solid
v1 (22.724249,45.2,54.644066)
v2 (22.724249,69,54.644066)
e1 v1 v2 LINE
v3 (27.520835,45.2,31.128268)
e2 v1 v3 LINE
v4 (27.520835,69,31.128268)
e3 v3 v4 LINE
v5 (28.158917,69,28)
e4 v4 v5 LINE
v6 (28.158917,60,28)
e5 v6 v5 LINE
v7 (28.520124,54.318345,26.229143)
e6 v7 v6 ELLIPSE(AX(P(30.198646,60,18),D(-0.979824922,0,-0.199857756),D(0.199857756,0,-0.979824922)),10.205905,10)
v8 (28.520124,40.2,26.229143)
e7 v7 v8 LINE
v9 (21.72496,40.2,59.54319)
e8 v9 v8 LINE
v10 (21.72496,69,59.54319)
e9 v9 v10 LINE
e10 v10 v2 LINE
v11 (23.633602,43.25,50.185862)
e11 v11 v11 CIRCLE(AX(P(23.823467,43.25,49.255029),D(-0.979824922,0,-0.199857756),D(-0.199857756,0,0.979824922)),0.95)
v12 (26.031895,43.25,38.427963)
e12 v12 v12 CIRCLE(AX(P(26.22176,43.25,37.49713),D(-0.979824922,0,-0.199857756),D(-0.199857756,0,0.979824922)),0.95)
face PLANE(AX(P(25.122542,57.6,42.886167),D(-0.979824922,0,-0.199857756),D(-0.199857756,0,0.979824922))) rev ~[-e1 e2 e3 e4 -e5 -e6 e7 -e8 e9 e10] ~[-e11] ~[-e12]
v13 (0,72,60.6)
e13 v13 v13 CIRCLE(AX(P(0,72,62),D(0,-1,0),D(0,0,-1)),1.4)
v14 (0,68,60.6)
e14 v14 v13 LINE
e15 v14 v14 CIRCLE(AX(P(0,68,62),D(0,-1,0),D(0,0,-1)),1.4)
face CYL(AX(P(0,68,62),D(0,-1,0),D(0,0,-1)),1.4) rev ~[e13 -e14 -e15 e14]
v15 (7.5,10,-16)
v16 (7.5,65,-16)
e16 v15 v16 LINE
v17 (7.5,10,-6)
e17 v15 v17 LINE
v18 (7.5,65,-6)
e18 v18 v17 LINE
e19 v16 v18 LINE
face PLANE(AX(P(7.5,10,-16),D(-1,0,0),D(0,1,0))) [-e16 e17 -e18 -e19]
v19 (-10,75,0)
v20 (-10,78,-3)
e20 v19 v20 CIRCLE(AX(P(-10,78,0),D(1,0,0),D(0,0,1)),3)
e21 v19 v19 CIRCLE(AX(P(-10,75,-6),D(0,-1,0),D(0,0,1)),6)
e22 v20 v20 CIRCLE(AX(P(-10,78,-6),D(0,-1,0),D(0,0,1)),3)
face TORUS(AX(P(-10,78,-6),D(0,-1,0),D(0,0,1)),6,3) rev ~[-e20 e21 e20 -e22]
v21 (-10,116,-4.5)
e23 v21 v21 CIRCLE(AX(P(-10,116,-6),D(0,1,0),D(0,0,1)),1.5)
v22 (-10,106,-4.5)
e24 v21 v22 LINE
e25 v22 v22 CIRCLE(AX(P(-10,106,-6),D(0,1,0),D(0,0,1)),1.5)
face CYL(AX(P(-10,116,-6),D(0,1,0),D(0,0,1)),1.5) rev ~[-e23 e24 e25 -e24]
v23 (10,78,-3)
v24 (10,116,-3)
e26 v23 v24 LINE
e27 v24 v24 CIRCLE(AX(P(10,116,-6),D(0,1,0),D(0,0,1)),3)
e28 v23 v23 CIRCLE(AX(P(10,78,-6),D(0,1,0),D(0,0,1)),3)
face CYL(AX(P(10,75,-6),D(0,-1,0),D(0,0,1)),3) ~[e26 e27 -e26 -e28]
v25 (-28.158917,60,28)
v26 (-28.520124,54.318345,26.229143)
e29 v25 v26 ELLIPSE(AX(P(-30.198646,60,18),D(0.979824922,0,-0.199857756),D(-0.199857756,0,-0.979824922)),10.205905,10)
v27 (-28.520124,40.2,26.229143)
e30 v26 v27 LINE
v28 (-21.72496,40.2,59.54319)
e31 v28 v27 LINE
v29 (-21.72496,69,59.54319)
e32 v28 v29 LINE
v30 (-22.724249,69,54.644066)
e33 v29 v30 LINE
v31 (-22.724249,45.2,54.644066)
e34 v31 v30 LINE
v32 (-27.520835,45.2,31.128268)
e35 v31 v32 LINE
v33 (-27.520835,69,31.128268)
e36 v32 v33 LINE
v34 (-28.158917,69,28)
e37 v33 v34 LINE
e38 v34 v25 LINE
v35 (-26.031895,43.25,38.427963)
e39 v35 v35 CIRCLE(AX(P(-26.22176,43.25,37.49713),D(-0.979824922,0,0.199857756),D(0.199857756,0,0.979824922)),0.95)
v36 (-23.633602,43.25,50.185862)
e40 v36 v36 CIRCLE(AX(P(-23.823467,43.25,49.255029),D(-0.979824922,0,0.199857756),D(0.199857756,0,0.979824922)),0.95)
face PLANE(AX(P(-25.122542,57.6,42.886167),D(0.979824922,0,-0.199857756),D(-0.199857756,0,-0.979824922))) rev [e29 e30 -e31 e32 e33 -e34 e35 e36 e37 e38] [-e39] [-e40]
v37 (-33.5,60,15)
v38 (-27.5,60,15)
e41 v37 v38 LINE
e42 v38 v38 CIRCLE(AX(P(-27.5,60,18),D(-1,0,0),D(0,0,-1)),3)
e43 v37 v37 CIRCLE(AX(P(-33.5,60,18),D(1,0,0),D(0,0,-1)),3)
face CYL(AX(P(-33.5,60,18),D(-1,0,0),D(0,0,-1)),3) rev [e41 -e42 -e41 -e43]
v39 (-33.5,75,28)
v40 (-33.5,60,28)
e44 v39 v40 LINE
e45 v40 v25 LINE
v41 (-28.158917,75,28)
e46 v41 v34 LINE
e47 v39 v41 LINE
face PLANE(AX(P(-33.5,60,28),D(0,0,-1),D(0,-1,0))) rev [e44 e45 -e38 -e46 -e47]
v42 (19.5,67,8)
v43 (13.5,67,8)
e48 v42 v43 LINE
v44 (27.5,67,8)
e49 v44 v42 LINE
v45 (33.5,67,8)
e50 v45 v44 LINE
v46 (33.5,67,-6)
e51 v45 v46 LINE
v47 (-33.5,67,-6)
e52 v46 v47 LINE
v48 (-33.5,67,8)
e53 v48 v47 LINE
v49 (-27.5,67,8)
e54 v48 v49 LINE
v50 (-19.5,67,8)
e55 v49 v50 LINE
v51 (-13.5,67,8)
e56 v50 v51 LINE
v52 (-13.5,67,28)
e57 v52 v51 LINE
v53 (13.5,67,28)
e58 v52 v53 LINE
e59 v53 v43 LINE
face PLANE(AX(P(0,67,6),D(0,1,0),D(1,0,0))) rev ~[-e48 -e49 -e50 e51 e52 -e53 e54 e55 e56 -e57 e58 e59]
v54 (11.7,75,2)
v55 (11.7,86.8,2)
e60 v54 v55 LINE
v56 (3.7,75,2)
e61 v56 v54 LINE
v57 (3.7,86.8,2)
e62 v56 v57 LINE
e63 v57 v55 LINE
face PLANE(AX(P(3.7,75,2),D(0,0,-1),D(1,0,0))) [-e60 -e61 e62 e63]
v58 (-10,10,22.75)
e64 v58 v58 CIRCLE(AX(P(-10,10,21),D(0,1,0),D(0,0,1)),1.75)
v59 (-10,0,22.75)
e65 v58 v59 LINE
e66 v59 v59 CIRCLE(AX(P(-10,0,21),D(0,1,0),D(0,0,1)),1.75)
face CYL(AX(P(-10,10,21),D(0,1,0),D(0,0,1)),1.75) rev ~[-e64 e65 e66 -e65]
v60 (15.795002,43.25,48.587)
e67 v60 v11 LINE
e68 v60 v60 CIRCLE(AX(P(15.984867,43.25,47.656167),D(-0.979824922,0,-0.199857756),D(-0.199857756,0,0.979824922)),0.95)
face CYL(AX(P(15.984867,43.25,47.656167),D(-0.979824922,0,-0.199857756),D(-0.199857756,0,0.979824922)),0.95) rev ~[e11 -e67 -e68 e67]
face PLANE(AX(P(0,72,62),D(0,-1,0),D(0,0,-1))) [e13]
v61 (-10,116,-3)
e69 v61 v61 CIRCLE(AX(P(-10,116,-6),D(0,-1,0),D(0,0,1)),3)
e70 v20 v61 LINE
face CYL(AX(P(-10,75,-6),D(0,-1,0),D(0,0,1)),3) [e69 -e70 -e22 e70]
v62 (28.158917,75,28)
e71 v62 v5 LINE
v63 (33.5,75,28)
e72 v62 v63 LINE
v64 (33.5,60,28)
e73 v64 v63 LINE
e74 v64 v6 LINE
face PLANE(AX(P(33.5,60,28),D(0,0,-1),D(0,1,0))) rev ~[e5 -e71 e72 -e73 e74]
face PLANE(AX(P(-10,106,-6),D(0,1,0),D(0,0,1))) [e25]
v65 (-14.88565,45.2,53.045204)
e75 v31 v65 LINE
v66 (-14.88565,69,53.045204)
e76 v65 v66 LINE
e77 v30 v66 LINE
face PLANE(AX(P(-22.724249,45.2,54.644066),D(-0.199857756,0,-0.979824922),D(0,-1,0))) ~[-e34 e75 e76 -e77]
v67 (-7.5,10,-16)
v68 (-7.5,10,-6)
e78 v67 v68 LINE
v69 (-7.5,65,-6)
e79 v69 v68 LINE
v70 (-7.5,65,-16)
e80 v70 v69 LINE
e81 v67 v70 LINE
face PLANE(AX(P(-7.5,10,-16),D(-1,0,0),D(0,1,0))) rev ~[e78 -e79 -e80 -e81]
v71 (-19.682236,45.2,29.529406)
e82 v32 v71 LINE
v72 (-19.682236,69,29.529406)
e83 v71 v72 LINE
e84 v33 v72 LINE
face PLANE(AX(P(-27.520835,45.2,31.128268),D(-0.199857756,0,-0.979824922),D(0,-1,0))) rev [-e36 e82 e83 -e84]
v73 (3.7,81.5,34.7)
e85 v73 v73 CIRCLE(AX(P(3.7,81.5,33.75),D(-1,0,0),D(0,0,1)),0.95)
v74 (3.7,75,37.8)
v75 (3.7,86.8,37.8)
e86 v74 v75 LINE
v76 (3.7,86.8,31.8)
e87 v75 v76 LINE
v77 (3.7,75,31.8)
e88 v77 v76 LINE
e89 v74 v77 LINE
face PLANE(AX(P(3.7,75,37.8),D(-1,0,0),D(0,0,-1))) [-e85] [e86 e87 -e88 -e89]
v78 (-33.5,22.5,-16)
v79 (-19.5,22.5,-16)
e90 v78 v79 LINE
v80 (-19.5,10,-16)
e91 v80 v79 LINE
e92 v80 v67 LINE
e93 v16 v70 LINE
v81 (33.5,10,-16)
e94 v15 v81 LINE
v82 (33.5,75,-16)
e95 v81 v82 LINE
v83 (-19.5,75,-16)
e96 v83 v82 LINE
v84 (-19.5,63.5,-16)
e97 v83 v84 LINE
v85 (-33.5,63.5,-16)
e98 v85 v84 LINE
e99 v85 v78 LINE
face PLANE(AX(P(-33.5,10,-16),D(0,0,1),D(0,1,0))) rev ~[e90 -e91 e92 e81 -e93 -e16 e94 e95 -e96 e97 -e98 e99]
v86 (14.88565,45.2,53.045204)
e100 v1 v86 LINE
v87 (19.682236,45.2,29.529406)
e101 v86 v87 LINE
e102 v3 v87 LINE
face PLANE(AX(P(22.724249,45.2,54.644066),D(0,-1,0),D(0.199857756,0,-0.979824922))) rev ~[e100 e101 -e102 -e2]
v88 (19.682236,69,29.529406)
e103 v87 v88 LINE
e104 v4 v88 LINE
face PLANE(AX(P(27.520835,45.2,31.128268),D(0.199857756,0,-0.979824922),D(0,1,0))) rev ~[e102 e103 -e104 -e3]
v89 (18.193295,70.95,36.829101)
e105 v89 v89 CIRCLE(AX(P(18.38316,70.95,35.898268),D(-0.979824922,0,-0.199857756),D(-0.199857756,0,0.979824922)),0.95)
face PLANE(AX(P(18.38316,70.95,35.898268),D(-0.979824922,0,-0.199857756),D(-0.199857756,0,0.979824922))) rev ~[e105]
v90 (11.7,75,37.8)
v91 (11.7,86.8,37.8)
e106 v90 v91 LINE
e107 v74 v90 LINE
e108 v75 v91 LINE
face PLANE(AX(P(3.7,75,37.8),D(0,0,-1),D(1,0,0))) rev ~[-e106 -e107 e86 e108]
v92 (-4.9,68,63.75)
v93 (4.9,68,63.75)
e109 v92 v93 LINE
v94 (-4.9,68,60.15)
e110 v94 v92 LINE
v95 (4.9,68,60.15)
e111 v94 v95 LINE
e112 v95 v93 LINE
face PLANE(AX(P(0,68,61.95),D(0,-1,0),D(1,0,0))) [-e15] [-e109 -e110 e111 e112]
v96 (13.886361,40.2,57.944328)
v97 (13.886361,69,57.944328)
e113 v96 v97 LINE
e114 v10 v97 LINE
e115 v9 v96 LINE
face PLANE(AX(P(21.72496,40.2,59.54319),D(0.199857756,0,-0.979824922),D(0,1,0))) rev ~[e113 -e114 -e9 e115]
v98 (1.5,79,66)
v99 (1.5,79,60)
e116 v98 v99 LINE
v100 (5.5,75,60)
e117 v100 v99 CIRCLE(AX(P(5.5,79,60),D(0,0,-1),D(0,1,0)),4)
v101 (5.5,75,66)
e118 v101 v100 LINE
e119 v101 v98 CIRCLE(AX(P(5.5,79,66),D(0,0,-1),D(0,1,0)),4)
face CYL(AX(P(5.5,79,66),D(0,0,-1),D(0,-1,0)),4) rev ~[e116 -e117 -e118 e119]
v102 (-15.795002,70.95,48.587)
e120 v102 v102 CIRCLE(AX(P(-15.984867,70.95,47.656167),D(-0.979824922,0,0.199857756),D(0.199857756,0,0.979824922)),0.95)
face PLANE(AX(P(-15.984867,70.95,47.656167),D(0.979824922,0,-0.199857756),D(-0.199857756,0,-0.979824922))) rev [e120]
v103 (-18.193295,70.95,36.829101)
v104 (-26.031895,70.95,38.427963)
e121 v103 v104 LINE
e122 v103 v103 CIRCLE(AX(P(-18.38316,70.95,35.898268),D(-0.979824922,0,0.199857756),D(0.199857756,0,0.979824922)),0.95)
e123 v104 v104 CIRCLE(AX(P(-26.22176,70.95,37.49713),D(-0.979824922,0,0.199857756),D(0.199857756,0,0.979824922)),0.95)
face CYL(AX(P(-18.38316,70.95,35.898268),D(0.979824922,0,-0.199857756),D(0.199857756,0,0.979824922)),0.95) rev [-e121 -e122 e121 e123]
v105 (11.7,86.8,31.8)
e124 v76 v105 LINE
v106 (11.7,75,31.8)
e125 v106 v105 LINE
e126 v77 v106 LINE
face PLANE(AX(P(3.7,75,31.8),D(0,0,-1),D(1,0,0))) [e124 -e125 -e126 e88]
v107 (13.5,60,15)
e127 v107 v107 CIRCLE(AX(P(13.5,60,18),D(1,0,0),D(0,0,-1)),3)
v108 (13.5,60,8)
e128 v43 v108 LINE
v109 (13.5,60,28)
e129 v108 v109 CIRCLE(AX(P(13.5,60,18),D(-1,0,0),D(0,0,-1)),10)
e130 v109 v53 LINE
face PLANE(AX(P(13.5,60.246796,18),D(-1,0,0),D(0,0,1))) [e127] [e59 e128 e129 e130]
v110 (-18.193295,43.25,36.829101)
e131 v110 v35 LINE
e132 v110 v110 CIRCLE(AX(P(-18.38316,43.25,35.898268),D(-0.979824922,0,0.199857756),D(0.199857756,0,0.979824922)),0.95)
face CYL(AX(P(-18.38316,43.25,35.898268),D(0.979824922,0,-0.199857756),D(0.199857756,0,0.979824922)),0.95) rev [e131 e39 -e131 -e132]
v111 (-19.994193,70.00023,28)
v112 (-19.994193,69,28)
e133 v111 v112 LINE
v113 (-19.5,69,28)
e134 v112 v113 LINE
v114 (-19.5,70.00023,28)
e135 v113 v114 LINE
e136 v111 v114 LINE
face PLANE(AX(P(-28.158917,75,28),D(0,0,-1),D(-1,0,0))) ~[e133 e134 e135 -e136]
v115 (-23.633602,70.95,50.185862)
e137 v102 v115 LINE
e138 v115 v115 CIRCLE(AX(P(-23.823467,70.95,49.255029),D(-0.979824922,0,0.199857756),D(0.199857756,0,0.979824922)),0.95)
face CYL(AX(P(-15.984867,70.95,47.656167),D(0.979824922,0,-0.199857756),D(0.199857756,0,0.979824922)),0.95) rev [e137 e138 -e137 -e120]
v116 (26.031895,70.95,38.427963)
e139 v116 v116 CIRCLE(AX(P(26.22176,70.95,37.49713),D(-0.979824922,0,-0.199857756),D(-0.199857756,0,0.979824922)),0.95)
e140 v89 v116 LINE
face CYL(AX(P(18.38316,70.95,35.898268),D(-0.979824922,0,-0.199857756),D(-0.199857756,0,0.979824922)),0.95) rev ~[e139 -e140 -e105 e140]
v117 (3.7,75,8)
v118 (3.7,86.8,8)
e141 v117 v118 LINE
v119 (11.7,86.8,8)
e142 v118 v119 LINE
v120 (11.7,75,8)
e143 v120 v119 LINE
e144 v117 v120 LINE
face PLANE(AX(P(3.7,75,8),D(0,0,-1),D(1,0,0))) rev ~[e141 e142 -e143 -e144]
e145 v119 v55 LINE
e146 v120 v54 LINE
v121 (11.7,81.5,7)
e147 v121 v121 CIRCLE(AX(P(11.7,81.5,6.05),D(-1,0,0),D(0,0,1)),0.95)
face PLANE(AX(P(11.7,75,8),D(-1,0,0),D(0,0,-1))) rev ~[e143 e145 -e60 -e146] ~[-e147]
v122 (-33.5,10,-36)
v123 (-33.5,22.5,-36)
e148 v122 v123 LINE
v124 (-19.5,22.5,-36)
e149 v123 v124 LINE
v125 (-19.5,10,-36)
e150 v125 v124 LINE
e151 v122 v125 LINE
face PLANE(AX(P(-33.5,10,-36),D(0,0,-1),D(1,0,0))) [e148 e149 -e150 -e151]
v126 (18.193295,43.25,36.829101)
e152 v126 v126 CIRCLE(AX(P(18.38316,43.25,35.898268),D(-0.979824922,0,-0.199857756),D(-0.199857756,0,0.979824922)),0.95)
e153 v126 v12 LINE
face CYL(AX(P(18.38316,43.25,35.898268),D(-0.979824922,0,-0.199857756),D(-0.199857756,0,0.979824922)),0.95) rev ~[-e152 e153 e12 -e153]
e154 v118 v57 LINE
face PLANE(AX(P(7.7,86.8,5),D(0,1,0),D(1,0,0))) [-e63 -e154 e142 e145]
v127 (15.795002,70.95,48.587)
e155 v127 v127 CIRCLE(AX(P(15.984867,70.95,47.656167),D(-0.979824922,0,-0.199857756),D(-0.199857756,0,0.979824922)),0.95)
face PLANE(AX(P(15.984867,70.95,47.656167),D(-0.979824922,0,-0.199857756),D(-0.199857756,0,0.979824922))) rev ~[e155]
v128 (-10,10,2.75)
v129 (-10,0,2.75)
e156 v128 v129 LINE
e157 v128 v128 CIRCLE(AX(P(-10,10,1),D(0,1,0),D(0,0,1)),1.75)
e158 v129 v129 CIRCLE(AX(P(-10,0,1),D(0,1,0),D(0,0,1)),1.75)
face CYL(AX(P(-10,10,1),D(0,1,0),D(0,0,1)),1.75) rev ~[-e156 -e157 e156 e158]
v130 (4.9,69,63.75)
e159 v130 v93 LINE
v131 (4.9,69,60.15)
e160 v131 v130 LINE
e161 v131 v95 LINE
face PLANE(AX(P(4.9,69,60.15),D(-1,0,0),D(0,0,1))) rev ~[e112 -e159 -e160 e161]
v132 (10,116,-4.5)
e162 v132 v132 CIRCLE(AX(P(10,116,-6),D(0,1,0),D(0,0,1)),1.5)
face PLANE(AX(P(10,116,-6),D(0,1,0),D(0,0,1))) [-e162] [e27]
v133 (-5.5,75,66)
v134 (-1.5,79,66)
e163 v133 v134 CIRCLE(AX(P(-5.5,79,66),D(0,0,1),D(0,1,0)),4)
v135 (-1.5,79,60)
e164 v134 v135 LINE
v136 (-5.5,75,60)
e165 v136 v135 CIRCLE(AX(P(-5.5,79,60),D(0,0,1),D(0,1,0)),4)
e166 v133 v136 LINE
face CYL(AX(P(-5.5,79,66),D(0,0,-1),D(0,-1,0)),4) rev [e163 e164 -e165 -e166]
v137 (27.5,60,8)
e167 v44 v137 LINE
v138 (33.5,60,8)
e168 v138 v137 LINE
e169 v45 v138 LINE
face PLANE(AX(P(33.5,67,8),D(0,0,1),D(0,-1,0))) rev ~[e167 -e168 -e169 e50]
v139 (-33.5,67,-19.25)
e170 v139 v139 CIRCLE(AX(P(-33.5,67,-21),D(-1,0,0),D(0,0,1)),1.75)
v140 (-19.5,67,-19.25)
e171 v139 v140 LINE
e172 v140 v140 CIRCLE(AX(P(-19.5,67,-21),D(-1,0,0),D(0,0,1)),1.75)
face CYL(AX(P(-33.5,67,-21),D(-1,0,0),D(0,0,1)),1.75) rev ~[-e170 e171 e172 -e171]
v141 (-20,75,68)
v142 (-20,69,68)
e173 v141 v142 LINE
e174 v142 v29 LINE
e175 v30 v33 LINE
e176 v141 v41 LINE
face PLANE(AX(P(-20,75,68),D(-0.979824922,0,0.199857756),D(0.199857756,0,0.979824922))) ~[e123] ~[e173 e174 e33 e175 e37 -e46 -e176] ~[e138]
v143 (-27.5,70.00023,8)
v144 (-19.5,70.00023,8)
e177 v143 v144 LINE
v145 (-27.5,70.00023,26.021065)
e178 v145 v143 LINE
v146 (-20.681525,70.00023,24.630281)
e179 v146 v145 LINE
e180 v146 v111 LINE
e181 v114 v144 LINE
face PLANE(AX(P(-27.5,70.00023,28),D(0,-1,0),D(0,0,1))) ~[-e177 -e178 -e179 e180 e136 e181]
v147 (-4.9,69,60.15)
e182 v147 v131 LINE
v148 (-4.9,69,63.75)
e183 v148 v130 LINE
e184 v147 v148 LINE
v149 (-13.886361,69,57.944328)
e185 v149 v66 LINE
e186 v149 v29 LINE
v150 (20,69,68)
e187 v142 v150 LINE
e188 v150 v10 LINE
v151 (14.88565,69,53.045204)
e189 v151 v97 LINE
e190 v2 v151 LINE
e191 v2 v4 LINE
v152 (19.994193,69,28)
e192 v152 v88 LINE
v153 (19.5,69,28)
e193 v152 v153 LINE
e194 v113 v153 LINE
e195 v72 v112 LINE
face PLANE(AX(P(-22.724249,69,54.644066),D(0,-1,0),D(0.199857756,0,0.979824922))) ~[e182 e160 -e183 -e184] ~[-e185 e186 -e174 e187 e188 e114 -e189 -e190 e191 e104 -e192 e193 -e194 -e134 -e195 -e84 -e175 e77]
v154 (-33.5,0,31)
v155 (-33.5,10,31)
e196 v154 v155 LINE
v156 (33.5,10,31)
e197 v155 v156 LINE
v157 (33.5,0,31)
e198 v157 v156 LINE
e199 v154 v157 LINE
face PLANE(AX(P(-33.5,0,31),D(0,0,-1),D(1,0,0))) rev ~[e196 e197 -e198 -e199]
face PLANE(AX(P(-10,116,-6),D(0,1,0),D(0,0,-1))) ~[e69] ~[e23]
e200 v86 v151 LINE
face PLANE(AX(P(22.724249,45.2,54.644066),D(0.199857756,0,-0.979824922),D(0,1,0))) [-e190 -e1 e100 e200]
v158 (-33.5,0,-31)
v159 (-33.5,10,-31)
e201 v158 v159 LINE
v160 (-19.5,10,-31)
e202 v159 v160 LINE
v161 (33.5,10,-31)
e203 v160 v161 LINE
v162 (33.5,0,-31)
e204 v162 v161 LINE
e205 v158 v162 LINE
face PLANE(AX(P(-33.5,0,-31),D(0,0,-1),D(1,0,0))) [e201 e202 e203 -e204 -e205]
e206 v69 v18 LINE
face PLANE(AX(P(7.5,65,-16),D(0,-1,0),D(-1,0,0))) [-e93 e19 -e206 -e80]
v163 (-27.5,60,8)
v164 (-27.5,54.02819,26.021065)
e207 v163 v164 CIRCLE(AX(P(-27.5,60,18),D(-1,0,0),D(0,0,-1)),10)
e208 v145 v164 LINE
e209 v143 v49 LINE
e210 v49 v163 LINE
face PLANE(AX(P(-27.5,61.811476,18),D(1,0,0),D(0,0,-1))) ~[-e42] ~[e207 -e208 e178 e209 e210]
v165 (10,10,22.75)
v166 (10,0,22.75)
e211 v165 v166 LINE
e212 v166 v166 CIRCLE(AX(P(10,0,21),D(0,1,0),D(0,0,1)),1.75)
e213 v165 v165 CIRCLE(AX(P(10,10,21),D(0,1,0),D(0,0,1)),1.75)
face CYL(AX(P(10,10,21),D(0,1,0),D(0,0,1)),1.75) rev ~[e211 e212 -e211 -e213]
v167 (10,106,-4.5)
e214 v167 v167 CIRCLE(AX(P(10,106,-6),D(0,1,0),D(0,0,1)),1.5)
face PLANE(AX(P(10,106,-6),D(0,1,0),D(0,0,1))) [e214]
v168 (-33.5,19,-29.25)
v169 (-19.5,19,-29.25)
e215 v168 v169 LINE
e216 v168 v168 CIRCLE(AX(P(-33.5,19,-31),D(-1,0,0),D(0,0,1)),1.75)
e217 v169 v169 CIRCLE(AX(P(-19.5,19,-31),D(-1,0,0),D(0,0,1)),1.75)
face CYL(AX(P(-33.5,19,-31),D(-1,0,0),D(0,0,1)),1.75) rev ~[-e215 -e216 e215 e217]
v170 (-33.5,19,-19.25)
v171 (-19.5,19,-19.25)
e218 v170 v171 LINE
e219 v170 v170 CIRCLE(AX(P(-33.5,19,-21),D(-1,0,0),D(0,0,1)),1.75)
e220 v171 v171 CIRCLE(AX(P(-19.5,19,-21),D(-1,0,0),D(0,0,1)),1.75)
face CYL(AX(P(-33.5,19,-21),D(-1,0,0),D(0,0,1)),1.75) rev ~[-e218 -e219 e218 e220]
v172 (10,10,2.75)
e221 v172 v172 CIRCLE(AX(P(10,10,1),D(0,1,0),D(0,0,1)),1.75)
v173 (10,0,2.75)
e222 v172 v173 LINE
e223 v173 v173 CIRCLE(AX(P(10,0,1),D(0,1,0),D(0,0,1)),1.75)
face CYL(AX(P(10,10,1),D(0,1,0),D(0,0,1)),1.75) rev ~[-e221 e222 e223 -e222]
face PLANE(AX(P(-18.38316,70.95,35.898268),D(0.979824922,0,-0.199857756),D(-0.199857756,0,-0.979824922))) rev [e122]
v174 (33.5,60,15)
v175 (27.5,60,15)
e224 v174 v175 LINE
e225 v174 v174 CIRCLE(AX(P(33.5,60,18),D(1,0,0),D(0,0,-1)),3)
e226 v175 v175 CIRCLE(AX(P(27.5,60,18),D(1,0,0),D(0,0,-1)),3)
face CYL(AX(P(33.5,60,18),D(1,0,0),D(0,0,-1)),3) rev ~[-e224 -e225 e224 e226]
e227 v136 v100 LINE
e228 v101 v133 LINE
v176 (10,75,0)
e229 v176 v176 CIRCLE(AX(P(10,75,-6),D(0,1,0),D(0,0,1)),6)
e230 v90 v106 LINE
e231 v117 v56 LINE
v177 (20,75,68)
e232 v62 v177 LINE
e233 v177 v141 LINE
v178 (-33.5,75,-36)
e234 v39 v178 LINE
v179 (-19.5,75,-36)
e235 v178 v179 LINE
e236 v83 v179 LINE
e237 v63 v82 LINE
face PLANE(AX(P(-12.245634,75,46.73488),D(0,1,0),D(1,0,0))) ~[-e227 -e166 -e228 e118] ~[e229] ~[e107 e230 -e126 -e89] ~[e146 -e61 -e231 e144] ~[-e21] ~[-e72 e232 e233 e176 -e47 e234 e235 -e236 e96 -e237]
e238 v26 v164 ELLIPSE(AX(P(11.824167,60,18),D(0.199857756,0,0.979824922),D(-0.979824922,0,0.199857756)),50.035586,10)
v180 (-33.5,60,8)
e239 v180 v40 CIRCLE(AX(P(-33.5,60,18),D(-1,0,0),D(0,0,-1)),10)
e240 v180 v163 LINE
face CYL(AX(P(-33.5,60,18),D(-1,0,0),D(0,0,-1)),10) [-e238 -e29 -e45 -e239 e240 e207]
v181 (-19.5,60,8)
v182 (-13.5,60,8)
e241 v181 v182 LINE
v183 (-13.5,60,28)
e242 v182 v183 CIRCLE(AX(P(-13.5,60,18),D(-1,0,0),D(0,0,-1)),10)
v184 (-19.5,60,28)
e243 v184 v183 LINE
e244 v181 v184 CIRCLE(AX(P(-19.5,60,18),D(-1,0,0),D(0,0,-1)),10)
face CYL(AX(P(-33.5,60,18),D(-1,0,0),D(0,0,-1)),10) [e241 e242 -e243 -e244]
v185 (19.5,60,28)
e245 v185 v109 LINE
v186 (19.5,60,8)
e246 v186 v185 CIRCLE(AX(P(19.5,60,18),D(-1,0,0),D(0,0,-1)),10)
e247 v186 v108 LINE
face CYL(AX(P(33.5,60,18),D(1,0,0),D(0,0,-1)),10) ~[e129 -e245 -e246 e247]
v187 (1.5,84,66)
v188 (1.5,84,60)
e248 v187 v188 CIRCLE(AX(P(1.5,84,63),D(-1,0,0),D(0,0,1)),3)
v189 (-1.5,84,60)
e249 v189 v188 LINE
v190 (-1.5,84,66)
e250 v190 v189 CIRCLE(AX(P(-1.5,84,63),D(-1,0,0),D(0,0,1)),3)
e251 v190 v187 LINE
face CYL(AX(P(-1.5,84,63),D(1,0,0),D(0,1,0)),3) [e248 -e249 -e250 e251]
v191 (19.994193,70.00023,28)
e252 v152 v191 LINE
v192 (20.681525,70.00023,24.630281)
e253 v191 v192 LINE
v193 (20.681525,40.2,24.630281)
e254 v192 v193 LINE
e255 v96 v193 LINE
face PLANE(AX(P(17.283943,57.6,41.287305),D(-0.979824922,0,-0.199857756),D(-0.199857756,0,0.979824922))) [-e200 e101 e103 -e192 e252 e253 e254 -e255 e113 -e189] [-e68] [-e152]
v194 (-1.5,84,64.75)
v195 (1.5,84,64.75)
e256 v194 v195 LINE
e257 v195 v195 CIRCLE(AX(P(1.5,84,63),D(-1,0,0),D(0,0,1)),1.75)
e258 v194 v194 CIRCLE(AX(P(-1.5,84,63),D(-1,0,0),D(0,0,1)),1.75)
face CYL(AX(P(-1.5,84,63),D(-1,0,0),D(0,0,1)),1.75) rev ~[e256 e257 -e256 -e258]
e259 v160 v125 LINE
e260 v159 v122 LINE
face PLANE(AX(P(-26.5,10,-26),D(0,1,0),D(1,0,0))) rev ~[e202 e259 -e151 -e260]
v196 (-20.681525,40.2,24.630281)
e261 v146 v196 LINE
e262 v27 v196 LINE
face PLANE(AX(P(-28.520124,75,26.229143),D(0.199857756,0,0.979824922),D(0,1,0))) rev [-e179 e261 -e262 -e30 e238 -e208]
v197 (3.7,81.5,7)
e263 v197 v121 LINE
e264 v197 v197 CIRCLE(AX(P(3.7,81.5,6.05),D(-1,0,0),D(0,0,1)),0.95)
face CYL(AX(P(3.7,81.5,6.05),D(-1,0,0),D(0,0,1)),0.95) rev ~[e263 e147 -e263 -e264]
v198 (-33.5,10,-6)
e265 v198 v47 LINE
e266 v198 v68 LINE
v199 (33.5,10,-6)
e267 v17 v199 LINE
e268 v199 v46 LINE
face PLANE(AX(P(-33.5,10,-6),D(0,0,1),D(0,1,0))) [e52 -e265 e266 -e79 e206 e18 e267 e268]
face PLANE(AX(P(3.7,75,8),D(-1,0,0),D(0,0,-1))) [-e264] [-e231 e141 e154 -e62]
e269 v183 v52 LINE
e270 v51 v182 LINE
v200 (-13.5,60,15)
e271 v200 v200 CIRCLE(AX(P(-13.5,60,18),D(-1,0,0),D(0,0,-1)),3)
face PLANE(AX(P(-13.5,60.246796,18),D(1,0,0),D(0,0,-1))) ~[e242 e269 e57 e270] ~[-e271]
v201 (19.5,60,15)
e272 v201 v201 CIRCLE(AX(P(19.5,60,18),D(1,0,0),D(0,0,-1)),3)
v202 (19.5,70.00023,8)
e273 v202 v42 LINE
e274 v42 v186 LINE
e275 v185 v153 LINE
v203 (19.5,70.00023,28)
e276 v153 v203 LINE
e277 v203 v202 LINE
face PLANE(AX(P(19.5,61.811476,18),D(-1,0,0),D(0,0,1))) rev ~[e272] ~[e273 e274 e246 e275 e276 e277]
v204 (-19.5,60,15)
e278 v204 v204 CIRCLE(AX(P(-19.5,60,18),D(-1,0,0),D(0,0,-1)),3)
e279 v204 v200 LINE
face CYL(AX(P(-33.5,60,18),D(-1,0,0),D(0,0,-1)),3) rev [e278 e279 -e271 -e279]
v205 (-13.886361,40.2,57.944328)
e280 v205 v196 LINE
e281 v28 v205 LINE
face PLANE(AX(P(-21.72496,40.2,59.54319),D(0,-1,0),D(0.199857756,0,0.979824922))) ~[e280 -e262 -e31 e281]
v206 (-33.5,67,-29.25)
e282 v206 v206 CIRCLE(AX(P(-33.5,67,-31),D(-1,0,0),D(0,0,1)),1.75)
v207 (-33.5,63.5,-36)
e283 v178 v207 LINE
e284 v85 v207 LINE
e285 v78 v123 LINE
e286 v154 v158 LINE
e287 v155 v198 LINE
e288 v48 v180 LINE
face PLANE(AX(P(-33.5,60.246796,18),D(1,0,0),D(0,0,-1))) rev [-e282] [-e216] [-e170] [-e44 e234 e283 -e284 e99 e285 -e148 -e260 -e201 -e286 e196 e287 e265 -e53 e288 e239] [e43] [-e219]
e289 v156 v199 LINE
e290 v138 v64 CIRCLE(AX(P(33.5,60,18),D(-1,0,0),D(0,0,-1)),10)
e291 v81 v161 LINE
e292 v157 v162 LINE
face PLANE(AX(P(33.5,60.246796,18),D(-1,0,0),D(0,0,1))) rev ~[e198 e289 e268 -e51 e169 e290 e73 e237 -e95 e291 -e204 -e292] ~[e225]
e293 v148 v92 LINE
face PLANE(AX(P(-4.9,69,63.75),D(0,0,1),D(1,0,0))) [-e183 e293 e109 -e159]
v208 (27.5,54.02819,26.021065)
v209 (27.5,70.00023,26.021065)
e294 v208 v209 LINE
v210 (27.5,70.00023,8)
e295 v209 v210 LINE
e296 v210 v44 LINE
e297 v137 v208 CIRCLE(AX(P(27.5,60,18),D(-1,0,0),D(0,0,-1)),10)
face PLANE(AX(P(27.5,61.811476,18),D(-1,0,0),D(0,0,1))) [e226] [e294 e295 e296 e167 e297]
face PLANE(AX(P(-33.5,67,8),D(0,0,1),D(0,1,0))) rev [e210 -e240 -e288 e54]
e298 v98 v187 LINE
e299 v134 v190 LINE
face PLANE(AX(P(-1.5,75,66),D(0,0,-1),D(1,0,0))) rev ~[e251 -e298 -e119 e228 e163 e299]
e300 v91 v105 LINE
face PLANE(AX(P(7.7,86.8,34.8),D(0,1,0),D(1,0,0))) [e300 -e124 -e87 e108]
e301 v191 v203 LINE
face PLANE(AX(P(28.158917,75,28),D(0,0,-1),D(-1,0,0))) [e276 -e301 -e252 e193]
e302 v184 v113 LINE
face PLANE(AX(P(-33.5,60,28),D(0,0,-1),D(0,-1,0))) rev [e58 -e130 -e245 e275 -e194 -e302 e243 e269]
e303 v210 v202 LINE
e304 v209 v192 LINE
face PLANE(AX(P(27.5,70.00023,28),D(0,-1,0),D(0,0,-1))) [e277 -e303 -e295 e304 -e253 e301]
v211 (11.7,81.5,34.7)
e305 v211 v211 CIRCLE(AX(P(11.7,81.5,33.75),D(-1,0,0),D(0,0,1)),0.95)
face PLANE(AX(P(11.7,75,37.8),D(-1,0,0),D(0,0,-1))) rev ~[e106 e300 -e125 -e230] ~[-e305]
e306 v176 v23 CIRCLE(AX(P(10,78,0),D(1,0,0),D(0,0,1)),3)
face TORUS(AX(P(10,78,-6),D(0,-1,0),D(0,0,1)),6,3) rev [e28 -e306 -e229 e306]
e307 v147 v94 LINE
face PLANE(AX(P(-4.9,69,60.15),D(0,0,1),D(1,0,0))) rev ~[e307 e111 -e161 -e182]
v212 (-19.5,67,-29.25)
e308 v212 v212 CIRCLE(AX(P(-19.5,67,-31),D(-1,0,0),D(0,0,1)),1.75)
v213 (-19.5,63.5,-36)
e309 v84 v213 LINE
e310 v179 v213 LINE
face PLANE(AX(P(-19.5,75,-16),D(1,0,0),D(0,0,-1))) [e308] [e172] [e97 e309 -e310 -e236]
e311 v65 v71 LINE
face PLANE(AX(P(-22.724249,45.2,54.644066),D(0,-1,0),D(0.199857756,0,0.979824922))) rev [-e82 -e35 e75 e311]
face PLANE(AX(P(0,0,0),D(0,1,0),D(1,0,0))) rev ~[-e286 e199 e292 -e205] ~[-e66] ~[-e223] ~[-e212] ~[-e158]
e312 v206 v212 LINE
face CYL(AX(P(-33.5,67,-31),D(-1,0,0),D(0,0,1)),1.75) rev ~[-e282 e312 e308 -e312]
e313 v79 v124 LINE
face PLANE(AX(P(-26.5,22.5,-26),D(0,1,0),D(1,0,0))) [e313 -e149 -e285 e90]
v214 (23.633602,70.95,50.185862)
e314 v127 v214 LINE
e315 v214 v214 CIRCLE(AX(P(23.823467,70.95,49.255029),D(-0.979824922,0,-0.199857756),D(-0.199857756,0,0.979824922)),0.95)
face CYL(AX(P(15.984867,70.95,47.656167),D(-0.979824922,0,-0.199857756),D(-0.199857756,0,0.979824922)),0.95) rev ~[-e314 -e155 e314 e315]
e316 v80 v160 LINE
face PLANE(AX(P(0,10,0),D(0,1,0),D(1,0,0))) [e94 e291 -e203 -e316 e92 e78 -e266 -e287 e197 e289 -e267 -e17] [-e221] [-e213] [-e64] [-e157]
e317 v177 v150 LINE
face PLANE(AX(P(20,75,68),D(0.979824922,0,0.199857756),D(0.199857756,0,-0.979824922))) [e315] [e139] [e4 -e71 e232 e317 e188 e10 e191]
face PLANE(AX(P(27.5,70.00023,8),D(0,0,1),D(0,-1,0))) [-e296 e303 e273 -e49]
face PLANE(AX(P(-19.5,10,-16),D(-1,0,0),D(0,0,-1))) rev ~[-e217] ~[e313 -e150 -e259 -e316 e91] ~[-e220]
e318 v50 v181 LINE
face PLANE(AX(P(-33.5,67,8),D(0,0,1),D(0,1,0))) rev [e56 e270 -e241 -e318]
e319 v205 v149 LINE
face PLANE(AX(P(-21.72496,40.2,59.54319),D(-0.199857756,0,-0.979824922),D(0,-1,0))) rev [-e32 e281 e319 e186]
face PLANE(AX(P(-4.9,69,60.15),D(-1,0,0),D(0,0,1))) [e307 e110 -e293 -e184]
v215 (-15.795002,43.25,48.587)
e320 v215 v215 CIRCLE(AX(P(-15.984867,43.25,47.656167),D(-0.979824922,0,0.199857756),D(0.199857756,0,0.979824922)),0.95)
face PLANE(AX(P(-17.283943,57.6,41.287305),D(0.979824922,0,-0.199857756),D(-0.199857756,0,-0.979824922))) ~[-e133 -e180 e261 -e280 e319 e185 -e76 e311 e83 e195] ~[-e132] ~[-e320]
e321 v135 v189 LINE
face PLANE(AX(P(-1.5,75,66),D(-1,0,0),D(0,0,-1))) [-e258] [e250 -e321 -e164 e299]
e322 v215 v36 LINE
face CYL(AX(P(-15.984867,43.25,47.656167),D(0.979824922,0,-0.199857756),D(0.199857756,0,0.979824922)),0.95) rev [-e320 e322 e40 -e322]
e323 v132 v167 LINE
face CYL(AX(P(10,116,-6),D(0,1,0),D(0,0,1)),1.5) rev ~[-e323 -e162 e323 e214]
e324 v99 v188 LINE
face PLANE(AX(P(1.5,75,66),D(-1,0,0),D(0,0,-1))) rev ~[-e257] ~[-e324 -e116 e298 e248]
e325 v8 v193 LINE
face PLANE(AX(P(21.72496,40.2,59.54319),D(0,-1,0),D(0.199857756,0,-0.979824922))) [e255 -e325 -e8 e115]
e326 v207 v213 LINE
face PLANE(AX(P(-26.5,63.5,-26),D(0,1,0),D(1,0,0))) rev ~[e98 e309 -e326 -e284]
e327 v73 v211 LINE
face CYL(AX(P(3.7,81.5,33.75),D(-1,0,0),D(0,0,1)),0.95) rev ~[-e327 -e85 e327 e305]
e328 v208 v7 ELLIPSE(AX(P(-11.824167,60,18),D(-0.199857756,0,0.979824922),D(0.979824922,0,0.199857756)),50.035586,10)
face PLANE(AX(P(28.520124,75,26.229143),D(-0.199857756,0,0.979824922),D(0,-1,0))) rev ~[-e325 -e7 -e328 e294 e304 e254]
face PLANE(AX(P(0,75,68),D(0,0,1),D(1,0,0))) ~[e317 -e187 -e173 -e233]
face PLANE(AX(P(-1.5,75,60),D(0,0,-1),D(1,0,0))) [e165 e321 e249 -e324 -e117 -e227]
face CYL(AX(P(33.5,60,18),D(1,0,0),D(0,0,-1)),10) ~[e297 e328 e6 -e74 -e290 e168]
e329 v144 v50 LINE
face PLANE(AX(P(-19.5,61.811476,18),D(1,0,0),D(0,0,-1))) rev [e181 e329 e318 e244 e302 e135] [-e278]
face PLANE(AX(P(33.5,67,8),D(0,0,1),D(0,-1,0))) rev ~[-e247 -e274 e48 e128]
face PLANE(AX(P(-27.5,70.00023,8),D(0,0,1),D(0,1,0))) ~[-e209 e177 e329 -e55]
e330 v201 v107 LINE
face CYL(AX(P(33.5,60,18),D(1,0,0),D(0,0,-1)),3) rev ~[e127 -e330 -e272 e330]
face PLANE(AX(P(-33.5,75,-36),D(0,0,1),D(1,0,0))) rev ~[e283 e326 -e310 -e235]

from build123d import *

# Parameters (mm, degrees)
SKETCH_1_W             = 67
SKETCH_1_H             = 62
EXTRUDE_1_DEPTH        = 10
SKETCH_3_W             = 14
SKETCH_3_H             = 20
EXTRUDE_2_DEPTH        = 12.5
SKETCH_4_W             = 10
SKETCH_4_H             = 65
EXTRUDE_3_DEPTH        = 67
SKETCH_5_W             = 67
SKETCH_5_H             = 44
EXTRUDE_4_DEPTH        = 8
EXTRUDE_5_DEPTH        = 20
CUT_EXTRUDE_START      = -6
CUT_EXTRUDE_1_DEPTH    = 8
EXTRUDE_6_DEPTH        = 6
SKETCH_9_R             = 3
CUT_EXTRUDE_2_DEPTH    = 23
SKETCH_10_W            = 24
SKETCH_10_H            = 23.8
EXTRUDE_7_DEPTH        = 8
SKETCH_12_W            = 14
SKETCH_12_H            = 20
EXTRUDE_8_DEPTH        = 11.5
SKETCH_13_R            = 0.95
CUT_EXTRUDE_4_DEPTH    = 8
SKETCH_14_W            = 8
SKETCH_14_H            = 6
EXTRUDE_9_DEPTH        = 11.8
SKETCH_15_R            = 0.95
CUT_EXTRUDE_5_DEPTH    = 11.8
SKETCH_16_W            = 3
SKETCH_16_H            = 6
EXTRUDE_10_DEPTH       = 12
FILLET_1_RADIUS        = 3
FILLET_1_LENGTH        = 3
SKETCH_17_R            = 1.75
CUT_EXTRUDE_6_DEPTH    = 7
SKETCH_18_R            = 3
EXTRUDE_11_DEPTH       = 41
FILLET_2_R             = 3
FILLET_2_OF_MIRROR_1_R = 3
SKETCH_20_R            = 1.75
CUT_EXTRUDE_7_DEPTH    = 35
SKETCH_21_W            = 15
SKETCH_21_H            = 55
CUT_EXTRUDE_8_DEPTH    = 35
SKETCH_24_R            = 1.75
CUT_EXTRUDE_11_DEPTH   = 18
SKETCH_25_R            = 1.5
CUT_EXTRUDE_12_DEPTH   = 10
FILLET_3_R             = 4
SKETCH_26_W            = 9.8
SKETCH_26_H            = 3.6
EXTRUDE_12_DEPTH       = 1
SKETCH_27_R            = 1.4
CUT_EXTRUDE_13_DEPTH   = 4


with BuildPart() as part:
    # 草图1 → 凸台-拉伸1 (new body)
    with BuildSketch(Plane(origin=(0, 0, 0), x_dir=(1, 0, 0), z_dir=(0, 1, 0))):
        Rectangle(SKETCH_1_W, SKETCH_1_H)
    extrude(amount=EXTRUDE_1_DEPTH)

    # 草图3 → 凸台-拉伸2 (add)
    with BuildSketch(Plane(origin=(0, 10, 0), x_dir=(1, 0, 0), z_dir=(0, 1, 0))):
        with Locations((-26.5, 26)):
            Rectangle(SKETCH_3_W, SKETCH_3_H)
    extrude(amount=EXTRUDE_2_DEPTH)

    # 草图4 → 凸台-拉伸3 (add)
    with BuildSketch(Plane.ZY.offset(33.5)):
        with Locations((-11, 42.5)):
            Rectangle(SKETCH_4_W, SKETCH_4_H)
    extrude(amount=-EXTRUDE_3_DEPTH)

    # 草图5 → 凸台-拉伸4 (add)
    with BuildSketch(Plane(origin=(0, 75, 0), x_dir=(1, 0, 0), z_dir=(0, 1, 0))):
        with Locations((0, -6)):
            Rectangle(SKETCH_5_W, SKETCH_5_H)
    extrude(amount=-EXTRUDE_4_DEPTH)

    # 草图6 → 凸台-拉伸5 (add)
    with BuildSketch(Plane(origin=(33.5, 0, 0), x_dir=(0, 0, -1), z_dir=(1, 0, 0))):
        with BuildLine():
            Line((-28, 60), (-28, 67))
            Line((-28, 67), (-8, 67))
            Line((-8, 67), (-8, 60))
            ThreePointArc((-8, 60), (-18, 50), (-28, 60))
        make_face()
    extrude_5 = extrude(amount=-EXTRUDE_5_DEPTH)

    # 草图7 → 切除-拉伸1 (cut)
    with BuildSketch(Plane(origin=(33.5, 0, 0), x_dir=(0, 0, -1), z_dir=(1, 0, 0)).offset(CUT_EXTRUDE_START)):
        with BuildLine():
            Line((-28, 60), (-28, 70.000230089))
            Line((-28, 70.000230089), (-8, 70.000230089))
            Line((-8, 70.000230089), (-8, 60))
            ThreePointArc((-8, 60), (-18, 50), (-28, 60))
        make_face()
    cut_extrude_1 = extrude(amount=-CUT_EXTRUDE_1_DEPTH, mode=Mode.SUBTRACT)

    # 草图8 → 凸台-拉伸6 (add)
    with BuildSketch(Plane(origin=(0, 75, 0), x_dir=(1, 0, 0), z_dir=(0, 1, 0))):
        Polygon((0, -68), (20, -68), (28.158917045, -28), (0, -28), align=None)
    extrude_6 = extrude(amount=-EXTRUDE_6_DEPTH)

    # 草图9 → 切除-拉伸2 (cut)
    with BuildSketch(Plane(origin=(33.5, 0, 0), x_dir=(0, 0, -1), z_dir=(1, 0, 0))):
        with Locations((-18, 60)):
            Circle(SKETCH_9_R)
    cut_extrude_2 = extrude(amount=-CUT_EXTRUDE_2_DEPTH, mode=Mode.SUBTRACT)

    # 草图10 → 凸台-拉伸7 (add)
    with BuildSketch(Plane(origin=(32.517279057, 0, 6.632644559), x_dir=(0.19985775636309452, 0, -0.9798249217189313), z_dir=(0.9798249217189313, 0, 0.19985775636309452))):
        Polygon((-49, 75), (-20, 75), (-20, 40.2), (-48, 40.2), (-54, 40.2), (-54, 75), align=None)
        with Locations((-37, 57.1)):
            Rectangle(SKETCH_10_W, SKETCH_10_H, mode=Mode.SUBTRACT)
    extrude_7 = extrude(amount=-EXTRUDE_7_DEPTH)

    # 草图12 → 凸台-拉伸8 (add)
    with BuildSketch(Plane(origin=(0, 75, 0), x_dir=(1, 0, 0), z_dir=(0, 1, 0))):
        with Locations((-26.5, 26)):
            Rectangle(SKETCH_12_W, SKETCH_12_H)
    extrude(amount=-EXTRUDE_8_DEPTH)

    # 草图13 → 切除-拉伸4 (cut)
    with BuildSketch(Plane(origin=(24.678679684, 0, 5.033782508), x_dir=(-0.19985775636309505, 0, 0.9798249217189313), z_dir=(-0.9798249217189313, 0, -0.19985775636309505))):
        with Locations((43.5, 70.95)):
            Circle(SKETCH_13_R)
        with Locations((31.5, 70.95)):
            Circle(SKETCH_13_R)
        with Locations((31.5, 43.25)):
            Circle(SKETCH_13_R)
        with Locations((43.5, 43.25)):
            Circle(SKETCH_13_R)
    cut_extrude_4 = extrude(amount=-CUT_EXTRUDE_4_DEPTH, mode=Mode.SUBTRACT)

    # 草图14 → 凸台-拉伸9 (add)
    with BuildSketch(Plane(origin=(0, 75, 0), x_dir=(1, 0, 0), z_dir=(0, 1, 0))):
        with Locations((7.7, -5)):
            Rectangle(SKETCH_14_W, SKETCH_14_H)
        with Locations((7.7, -34.8)):
            Rectangle(SKETCH_14_W, SKETCH_14_H)
    extrude(amount=EXTRUDE_9_DEPTH)

    # 草图15 → 切除-拉伸5 (cut)
    with BuildSketch(Plane.ZY.offset(-3.7)):
        with Locations((33.75, 81.5)):
            Circle(SKETCH_15_R)
        with Locations((6.05, 81.5)):
            Circle(SKETCH_15_R)
    extrude(amount=-CUT_EXTRUDE_5_DEPTH, mode=Mode.SUBTRACT)

    # 草图16 → 凸台-拉伸10 (add)
    with BuildSketch(Plane(origin=(0, 75, 0), x_dir=(1, 0, 0), z_dir=(0, 1, 0))):
        with Locations((0, -63)):
            Rectangle(SKETCH_16_W, SKETCH_16_H)
    extrude(amount=EXTRUDE_10_DEPTH)

    # 圆角1: full round fillet: the end face becomes a half cylinder, R = half its width
    fillet_1_face = Plane((0, 87, 63), x_dir=(1, 0, 0), z_dir=(0, 1, 0))  # on the end face: x along it, z out of the body
    fillet_1_slab = fillet_1_face.offset(-FILLET_1_RADIUS / 2) * Box(FILLET_1_LENGTH, 2 * FILLET_1_RADIUS, FILLET_1_RADIUS, mode=Mode.PRIVATE)  # the body's end, R deep
    fillet_1_round = Plane((0, 84, 63), x_dir=(0, 1, 0), z_dir=(1, 0, 0)) * Cylinder(FILLET_1_RADIUS, FILLET_1_LENGTH, mode=Mode.PRIVATE)  # its axis R under the face
    add(fillet_1_slab - fillet_1_round, mode=Mode.SUBTRACT)

    # 草图17 → 切除-拉伸6 (cut)
    with BuildSketch(Plane.ZY.offset(1.5)):
        with Locations((63, 84)):
            Circle(SKETCH_17_R)
    extrude(amount=-CUT_EXTRUDE_6_DEPTH, mode=Mode.SUBTRACT)

    # 草图18 → 凸台-拉伸11 (add)
    with BuildSketch(Plane(origin=(0, 75, 0), x_dir=(1, 0, 0), z_dir=(0, 1, 0))):
        with Locations(Location((10, 6, 0), (0, 0, 270))):
            Circle(SKETCH_18_R)
    extrude_11 = extrude(amount=EXTRUDE_11_DEPTH)

    # 圆角2
    fillet_2_edges = [part.edges().sort_by_distance(p)[0] for p in [
        (10, 75, -9),
    ]]
    fillet(fillet_2_edges, radius=FILLET_2_R)

    # 镜向1: 凸台-拉伸5, 切除-拉伸1, 凸台-拉伸6, 切除-拉伸2, 凸台-拉伸7, 切除-拉伸4, 凸台-拉伸11 across plane
    add(extrude_5.mirror(Plane(origin=(0, 0, 0), x_dir=(0, 0, 1), z_dir=(1, 0, 0))))
    add(cut_extrude_1.mirror(Plane(origin=(0, 0, 0), x_dir=(0, 0, 1), z_dir=(1, 0, 0))), mode=Mode.SUBTRACT)
    add(extrude_6.mirror(Plane(origin=(0, 0, 0), x_dir=(0, 0, 1), z_dir=(1, 0, 0))))
    add(cut_extrude_2.mirror(Plane(origin=(0, 0, 0), x_dir=(0, 0, 1), z_dir=(1, 0, 0))), mode=Mode.SUBTRACT)
    add(extrude_7.mirror(Plane(origin=(0, 0, 0), x_dir=(0, 0, 1), z_dir=(1, 0, 0))))
    add(cut_extrude_4.mirror(Plane(origin=(0, 0, 0), x_dir=(0, 0, 1), z_dir=(1, 0, 0))), mode=Mode.SUBTRACT)
    add(extrude_11.mirror(Plane(origin=(0, 0, 0), x_dir=(0, 0, 1), z_dir=(1, 0, 0))))

    # 圆角2 of 镜向1
    fillet_2_of_mirror_1_edges = [part.edges().sort_by_distance(p)[0] for p in [
        (-10, 75, -9),
    ]]
    fillet(fillet_2_of_mirror_1_edges, radius=FILLET_2_OF_MIRROR_1_R)

    # 草图20 → 切除-拉伸7 (cut)
    with BuildSketch(Plane.ZY.offset(33.5)):
        with Locations((-31, 67)):
            Circle(SKETCH_20_R)
        with Locations((-21, 67)):
            Circle(SKETCH_20_R)
        with Locations((-31, 19)):
            Circle(SKETCH_20_R)
        with Locations((-21, 19)):
            Circle(SKETCH_20_R)
    extrude(amount=-CUT_EXTRUDE_7_DEPTH, mode=Mode.SUBTRACT)

    # 草图21 → 切除-拉伸8 (cut)
    with BuildSketch(Plane(origin=(0, 0, -16), x_dir=(-1, 0, 0), z_dir=(0, 0, -1))):
        with Locations((0, 37.5)):
            Rectangle(SKETCH_21_W, SKETCH_21_H)
    extrude(amount=-CUT_EXTRUDE_8_DEPTH, mode=Mode.SUBTRACT)

    # 草图24 → 切除-拉伸11 (cut)
    with BuildSketch(Plane(origin=(0, 10, 0), x_dir=(1, 0, 0), z_dir=(0, 1, 0))):
        with Locations(Location((-10, -21, 0), (0, 0, 270))):
            Circle(SKETCH_24_R)
        with Locations(Location((10, -21, 0), (0, 0, 270))):
            Circle(SKETCH_24_R)
        with Locations(Location((-10, -1, 0), (0, 0, 270))):
            Circle(SKETCH_24_R)
        with Locations(Location((10, -1, 0), (0, 0, 270))):
            Circle(SKETCH_24_R)
    extrude(amount=-CUT_EXTRUDE_11_DEPTH, mode=Mode.SUBTRACT)

    # 草图25 → 切除-拉伸12 (cut)
    with BuildSketch(Plane(origin=(0, 116, 0), x_dir=(1, 0, 0), z_dir=(0, 1, 0))):
        with Locations(Location((10, 6, 0), (0, 0, 270))):
            Circle(SKETCH_25_R)
        with Locations(Location((-10, 6, 0), (0, 0, 270))):
            Circle(SKETCH_25_R)
    extrude(amount=-CUT_EXTRUDE_12_DEPTH, mode=Mode.SUBTRACT)

    # 圆角3
    fillet_3_edges = [part.edges().sort_by_distance(p)[0] for p in [
        (-1.5, 75, 63),
        (1.5, 75, 63),
    ]]
    fillet(fillet_3_edges, radius=FILLET_3_R)

    # 草图26 → 凸台-拉伸12 (add)
    with BuildSketch(Plane.XZ.offset(-69)):
        with Locations((0, 61.95)):
            Rectangle(SKETCH_26_W, SKETCH_26_H)
    extrude(amount=EXTRUDE_12_DEPTH)

    # 草图27 → 切除-拉伸13 (cut)
    with BuildSketch(Plane.XZ.offset(-68)):
        with Locations(Location((0, 62, 0), (0, 0, 270))):
            Circle(SKETCH_27_R)
    extrude(amount=-CUT_EXTRUDE_13_DEPTH, mode=Mode.SUBTRACT)


solid = part.part
